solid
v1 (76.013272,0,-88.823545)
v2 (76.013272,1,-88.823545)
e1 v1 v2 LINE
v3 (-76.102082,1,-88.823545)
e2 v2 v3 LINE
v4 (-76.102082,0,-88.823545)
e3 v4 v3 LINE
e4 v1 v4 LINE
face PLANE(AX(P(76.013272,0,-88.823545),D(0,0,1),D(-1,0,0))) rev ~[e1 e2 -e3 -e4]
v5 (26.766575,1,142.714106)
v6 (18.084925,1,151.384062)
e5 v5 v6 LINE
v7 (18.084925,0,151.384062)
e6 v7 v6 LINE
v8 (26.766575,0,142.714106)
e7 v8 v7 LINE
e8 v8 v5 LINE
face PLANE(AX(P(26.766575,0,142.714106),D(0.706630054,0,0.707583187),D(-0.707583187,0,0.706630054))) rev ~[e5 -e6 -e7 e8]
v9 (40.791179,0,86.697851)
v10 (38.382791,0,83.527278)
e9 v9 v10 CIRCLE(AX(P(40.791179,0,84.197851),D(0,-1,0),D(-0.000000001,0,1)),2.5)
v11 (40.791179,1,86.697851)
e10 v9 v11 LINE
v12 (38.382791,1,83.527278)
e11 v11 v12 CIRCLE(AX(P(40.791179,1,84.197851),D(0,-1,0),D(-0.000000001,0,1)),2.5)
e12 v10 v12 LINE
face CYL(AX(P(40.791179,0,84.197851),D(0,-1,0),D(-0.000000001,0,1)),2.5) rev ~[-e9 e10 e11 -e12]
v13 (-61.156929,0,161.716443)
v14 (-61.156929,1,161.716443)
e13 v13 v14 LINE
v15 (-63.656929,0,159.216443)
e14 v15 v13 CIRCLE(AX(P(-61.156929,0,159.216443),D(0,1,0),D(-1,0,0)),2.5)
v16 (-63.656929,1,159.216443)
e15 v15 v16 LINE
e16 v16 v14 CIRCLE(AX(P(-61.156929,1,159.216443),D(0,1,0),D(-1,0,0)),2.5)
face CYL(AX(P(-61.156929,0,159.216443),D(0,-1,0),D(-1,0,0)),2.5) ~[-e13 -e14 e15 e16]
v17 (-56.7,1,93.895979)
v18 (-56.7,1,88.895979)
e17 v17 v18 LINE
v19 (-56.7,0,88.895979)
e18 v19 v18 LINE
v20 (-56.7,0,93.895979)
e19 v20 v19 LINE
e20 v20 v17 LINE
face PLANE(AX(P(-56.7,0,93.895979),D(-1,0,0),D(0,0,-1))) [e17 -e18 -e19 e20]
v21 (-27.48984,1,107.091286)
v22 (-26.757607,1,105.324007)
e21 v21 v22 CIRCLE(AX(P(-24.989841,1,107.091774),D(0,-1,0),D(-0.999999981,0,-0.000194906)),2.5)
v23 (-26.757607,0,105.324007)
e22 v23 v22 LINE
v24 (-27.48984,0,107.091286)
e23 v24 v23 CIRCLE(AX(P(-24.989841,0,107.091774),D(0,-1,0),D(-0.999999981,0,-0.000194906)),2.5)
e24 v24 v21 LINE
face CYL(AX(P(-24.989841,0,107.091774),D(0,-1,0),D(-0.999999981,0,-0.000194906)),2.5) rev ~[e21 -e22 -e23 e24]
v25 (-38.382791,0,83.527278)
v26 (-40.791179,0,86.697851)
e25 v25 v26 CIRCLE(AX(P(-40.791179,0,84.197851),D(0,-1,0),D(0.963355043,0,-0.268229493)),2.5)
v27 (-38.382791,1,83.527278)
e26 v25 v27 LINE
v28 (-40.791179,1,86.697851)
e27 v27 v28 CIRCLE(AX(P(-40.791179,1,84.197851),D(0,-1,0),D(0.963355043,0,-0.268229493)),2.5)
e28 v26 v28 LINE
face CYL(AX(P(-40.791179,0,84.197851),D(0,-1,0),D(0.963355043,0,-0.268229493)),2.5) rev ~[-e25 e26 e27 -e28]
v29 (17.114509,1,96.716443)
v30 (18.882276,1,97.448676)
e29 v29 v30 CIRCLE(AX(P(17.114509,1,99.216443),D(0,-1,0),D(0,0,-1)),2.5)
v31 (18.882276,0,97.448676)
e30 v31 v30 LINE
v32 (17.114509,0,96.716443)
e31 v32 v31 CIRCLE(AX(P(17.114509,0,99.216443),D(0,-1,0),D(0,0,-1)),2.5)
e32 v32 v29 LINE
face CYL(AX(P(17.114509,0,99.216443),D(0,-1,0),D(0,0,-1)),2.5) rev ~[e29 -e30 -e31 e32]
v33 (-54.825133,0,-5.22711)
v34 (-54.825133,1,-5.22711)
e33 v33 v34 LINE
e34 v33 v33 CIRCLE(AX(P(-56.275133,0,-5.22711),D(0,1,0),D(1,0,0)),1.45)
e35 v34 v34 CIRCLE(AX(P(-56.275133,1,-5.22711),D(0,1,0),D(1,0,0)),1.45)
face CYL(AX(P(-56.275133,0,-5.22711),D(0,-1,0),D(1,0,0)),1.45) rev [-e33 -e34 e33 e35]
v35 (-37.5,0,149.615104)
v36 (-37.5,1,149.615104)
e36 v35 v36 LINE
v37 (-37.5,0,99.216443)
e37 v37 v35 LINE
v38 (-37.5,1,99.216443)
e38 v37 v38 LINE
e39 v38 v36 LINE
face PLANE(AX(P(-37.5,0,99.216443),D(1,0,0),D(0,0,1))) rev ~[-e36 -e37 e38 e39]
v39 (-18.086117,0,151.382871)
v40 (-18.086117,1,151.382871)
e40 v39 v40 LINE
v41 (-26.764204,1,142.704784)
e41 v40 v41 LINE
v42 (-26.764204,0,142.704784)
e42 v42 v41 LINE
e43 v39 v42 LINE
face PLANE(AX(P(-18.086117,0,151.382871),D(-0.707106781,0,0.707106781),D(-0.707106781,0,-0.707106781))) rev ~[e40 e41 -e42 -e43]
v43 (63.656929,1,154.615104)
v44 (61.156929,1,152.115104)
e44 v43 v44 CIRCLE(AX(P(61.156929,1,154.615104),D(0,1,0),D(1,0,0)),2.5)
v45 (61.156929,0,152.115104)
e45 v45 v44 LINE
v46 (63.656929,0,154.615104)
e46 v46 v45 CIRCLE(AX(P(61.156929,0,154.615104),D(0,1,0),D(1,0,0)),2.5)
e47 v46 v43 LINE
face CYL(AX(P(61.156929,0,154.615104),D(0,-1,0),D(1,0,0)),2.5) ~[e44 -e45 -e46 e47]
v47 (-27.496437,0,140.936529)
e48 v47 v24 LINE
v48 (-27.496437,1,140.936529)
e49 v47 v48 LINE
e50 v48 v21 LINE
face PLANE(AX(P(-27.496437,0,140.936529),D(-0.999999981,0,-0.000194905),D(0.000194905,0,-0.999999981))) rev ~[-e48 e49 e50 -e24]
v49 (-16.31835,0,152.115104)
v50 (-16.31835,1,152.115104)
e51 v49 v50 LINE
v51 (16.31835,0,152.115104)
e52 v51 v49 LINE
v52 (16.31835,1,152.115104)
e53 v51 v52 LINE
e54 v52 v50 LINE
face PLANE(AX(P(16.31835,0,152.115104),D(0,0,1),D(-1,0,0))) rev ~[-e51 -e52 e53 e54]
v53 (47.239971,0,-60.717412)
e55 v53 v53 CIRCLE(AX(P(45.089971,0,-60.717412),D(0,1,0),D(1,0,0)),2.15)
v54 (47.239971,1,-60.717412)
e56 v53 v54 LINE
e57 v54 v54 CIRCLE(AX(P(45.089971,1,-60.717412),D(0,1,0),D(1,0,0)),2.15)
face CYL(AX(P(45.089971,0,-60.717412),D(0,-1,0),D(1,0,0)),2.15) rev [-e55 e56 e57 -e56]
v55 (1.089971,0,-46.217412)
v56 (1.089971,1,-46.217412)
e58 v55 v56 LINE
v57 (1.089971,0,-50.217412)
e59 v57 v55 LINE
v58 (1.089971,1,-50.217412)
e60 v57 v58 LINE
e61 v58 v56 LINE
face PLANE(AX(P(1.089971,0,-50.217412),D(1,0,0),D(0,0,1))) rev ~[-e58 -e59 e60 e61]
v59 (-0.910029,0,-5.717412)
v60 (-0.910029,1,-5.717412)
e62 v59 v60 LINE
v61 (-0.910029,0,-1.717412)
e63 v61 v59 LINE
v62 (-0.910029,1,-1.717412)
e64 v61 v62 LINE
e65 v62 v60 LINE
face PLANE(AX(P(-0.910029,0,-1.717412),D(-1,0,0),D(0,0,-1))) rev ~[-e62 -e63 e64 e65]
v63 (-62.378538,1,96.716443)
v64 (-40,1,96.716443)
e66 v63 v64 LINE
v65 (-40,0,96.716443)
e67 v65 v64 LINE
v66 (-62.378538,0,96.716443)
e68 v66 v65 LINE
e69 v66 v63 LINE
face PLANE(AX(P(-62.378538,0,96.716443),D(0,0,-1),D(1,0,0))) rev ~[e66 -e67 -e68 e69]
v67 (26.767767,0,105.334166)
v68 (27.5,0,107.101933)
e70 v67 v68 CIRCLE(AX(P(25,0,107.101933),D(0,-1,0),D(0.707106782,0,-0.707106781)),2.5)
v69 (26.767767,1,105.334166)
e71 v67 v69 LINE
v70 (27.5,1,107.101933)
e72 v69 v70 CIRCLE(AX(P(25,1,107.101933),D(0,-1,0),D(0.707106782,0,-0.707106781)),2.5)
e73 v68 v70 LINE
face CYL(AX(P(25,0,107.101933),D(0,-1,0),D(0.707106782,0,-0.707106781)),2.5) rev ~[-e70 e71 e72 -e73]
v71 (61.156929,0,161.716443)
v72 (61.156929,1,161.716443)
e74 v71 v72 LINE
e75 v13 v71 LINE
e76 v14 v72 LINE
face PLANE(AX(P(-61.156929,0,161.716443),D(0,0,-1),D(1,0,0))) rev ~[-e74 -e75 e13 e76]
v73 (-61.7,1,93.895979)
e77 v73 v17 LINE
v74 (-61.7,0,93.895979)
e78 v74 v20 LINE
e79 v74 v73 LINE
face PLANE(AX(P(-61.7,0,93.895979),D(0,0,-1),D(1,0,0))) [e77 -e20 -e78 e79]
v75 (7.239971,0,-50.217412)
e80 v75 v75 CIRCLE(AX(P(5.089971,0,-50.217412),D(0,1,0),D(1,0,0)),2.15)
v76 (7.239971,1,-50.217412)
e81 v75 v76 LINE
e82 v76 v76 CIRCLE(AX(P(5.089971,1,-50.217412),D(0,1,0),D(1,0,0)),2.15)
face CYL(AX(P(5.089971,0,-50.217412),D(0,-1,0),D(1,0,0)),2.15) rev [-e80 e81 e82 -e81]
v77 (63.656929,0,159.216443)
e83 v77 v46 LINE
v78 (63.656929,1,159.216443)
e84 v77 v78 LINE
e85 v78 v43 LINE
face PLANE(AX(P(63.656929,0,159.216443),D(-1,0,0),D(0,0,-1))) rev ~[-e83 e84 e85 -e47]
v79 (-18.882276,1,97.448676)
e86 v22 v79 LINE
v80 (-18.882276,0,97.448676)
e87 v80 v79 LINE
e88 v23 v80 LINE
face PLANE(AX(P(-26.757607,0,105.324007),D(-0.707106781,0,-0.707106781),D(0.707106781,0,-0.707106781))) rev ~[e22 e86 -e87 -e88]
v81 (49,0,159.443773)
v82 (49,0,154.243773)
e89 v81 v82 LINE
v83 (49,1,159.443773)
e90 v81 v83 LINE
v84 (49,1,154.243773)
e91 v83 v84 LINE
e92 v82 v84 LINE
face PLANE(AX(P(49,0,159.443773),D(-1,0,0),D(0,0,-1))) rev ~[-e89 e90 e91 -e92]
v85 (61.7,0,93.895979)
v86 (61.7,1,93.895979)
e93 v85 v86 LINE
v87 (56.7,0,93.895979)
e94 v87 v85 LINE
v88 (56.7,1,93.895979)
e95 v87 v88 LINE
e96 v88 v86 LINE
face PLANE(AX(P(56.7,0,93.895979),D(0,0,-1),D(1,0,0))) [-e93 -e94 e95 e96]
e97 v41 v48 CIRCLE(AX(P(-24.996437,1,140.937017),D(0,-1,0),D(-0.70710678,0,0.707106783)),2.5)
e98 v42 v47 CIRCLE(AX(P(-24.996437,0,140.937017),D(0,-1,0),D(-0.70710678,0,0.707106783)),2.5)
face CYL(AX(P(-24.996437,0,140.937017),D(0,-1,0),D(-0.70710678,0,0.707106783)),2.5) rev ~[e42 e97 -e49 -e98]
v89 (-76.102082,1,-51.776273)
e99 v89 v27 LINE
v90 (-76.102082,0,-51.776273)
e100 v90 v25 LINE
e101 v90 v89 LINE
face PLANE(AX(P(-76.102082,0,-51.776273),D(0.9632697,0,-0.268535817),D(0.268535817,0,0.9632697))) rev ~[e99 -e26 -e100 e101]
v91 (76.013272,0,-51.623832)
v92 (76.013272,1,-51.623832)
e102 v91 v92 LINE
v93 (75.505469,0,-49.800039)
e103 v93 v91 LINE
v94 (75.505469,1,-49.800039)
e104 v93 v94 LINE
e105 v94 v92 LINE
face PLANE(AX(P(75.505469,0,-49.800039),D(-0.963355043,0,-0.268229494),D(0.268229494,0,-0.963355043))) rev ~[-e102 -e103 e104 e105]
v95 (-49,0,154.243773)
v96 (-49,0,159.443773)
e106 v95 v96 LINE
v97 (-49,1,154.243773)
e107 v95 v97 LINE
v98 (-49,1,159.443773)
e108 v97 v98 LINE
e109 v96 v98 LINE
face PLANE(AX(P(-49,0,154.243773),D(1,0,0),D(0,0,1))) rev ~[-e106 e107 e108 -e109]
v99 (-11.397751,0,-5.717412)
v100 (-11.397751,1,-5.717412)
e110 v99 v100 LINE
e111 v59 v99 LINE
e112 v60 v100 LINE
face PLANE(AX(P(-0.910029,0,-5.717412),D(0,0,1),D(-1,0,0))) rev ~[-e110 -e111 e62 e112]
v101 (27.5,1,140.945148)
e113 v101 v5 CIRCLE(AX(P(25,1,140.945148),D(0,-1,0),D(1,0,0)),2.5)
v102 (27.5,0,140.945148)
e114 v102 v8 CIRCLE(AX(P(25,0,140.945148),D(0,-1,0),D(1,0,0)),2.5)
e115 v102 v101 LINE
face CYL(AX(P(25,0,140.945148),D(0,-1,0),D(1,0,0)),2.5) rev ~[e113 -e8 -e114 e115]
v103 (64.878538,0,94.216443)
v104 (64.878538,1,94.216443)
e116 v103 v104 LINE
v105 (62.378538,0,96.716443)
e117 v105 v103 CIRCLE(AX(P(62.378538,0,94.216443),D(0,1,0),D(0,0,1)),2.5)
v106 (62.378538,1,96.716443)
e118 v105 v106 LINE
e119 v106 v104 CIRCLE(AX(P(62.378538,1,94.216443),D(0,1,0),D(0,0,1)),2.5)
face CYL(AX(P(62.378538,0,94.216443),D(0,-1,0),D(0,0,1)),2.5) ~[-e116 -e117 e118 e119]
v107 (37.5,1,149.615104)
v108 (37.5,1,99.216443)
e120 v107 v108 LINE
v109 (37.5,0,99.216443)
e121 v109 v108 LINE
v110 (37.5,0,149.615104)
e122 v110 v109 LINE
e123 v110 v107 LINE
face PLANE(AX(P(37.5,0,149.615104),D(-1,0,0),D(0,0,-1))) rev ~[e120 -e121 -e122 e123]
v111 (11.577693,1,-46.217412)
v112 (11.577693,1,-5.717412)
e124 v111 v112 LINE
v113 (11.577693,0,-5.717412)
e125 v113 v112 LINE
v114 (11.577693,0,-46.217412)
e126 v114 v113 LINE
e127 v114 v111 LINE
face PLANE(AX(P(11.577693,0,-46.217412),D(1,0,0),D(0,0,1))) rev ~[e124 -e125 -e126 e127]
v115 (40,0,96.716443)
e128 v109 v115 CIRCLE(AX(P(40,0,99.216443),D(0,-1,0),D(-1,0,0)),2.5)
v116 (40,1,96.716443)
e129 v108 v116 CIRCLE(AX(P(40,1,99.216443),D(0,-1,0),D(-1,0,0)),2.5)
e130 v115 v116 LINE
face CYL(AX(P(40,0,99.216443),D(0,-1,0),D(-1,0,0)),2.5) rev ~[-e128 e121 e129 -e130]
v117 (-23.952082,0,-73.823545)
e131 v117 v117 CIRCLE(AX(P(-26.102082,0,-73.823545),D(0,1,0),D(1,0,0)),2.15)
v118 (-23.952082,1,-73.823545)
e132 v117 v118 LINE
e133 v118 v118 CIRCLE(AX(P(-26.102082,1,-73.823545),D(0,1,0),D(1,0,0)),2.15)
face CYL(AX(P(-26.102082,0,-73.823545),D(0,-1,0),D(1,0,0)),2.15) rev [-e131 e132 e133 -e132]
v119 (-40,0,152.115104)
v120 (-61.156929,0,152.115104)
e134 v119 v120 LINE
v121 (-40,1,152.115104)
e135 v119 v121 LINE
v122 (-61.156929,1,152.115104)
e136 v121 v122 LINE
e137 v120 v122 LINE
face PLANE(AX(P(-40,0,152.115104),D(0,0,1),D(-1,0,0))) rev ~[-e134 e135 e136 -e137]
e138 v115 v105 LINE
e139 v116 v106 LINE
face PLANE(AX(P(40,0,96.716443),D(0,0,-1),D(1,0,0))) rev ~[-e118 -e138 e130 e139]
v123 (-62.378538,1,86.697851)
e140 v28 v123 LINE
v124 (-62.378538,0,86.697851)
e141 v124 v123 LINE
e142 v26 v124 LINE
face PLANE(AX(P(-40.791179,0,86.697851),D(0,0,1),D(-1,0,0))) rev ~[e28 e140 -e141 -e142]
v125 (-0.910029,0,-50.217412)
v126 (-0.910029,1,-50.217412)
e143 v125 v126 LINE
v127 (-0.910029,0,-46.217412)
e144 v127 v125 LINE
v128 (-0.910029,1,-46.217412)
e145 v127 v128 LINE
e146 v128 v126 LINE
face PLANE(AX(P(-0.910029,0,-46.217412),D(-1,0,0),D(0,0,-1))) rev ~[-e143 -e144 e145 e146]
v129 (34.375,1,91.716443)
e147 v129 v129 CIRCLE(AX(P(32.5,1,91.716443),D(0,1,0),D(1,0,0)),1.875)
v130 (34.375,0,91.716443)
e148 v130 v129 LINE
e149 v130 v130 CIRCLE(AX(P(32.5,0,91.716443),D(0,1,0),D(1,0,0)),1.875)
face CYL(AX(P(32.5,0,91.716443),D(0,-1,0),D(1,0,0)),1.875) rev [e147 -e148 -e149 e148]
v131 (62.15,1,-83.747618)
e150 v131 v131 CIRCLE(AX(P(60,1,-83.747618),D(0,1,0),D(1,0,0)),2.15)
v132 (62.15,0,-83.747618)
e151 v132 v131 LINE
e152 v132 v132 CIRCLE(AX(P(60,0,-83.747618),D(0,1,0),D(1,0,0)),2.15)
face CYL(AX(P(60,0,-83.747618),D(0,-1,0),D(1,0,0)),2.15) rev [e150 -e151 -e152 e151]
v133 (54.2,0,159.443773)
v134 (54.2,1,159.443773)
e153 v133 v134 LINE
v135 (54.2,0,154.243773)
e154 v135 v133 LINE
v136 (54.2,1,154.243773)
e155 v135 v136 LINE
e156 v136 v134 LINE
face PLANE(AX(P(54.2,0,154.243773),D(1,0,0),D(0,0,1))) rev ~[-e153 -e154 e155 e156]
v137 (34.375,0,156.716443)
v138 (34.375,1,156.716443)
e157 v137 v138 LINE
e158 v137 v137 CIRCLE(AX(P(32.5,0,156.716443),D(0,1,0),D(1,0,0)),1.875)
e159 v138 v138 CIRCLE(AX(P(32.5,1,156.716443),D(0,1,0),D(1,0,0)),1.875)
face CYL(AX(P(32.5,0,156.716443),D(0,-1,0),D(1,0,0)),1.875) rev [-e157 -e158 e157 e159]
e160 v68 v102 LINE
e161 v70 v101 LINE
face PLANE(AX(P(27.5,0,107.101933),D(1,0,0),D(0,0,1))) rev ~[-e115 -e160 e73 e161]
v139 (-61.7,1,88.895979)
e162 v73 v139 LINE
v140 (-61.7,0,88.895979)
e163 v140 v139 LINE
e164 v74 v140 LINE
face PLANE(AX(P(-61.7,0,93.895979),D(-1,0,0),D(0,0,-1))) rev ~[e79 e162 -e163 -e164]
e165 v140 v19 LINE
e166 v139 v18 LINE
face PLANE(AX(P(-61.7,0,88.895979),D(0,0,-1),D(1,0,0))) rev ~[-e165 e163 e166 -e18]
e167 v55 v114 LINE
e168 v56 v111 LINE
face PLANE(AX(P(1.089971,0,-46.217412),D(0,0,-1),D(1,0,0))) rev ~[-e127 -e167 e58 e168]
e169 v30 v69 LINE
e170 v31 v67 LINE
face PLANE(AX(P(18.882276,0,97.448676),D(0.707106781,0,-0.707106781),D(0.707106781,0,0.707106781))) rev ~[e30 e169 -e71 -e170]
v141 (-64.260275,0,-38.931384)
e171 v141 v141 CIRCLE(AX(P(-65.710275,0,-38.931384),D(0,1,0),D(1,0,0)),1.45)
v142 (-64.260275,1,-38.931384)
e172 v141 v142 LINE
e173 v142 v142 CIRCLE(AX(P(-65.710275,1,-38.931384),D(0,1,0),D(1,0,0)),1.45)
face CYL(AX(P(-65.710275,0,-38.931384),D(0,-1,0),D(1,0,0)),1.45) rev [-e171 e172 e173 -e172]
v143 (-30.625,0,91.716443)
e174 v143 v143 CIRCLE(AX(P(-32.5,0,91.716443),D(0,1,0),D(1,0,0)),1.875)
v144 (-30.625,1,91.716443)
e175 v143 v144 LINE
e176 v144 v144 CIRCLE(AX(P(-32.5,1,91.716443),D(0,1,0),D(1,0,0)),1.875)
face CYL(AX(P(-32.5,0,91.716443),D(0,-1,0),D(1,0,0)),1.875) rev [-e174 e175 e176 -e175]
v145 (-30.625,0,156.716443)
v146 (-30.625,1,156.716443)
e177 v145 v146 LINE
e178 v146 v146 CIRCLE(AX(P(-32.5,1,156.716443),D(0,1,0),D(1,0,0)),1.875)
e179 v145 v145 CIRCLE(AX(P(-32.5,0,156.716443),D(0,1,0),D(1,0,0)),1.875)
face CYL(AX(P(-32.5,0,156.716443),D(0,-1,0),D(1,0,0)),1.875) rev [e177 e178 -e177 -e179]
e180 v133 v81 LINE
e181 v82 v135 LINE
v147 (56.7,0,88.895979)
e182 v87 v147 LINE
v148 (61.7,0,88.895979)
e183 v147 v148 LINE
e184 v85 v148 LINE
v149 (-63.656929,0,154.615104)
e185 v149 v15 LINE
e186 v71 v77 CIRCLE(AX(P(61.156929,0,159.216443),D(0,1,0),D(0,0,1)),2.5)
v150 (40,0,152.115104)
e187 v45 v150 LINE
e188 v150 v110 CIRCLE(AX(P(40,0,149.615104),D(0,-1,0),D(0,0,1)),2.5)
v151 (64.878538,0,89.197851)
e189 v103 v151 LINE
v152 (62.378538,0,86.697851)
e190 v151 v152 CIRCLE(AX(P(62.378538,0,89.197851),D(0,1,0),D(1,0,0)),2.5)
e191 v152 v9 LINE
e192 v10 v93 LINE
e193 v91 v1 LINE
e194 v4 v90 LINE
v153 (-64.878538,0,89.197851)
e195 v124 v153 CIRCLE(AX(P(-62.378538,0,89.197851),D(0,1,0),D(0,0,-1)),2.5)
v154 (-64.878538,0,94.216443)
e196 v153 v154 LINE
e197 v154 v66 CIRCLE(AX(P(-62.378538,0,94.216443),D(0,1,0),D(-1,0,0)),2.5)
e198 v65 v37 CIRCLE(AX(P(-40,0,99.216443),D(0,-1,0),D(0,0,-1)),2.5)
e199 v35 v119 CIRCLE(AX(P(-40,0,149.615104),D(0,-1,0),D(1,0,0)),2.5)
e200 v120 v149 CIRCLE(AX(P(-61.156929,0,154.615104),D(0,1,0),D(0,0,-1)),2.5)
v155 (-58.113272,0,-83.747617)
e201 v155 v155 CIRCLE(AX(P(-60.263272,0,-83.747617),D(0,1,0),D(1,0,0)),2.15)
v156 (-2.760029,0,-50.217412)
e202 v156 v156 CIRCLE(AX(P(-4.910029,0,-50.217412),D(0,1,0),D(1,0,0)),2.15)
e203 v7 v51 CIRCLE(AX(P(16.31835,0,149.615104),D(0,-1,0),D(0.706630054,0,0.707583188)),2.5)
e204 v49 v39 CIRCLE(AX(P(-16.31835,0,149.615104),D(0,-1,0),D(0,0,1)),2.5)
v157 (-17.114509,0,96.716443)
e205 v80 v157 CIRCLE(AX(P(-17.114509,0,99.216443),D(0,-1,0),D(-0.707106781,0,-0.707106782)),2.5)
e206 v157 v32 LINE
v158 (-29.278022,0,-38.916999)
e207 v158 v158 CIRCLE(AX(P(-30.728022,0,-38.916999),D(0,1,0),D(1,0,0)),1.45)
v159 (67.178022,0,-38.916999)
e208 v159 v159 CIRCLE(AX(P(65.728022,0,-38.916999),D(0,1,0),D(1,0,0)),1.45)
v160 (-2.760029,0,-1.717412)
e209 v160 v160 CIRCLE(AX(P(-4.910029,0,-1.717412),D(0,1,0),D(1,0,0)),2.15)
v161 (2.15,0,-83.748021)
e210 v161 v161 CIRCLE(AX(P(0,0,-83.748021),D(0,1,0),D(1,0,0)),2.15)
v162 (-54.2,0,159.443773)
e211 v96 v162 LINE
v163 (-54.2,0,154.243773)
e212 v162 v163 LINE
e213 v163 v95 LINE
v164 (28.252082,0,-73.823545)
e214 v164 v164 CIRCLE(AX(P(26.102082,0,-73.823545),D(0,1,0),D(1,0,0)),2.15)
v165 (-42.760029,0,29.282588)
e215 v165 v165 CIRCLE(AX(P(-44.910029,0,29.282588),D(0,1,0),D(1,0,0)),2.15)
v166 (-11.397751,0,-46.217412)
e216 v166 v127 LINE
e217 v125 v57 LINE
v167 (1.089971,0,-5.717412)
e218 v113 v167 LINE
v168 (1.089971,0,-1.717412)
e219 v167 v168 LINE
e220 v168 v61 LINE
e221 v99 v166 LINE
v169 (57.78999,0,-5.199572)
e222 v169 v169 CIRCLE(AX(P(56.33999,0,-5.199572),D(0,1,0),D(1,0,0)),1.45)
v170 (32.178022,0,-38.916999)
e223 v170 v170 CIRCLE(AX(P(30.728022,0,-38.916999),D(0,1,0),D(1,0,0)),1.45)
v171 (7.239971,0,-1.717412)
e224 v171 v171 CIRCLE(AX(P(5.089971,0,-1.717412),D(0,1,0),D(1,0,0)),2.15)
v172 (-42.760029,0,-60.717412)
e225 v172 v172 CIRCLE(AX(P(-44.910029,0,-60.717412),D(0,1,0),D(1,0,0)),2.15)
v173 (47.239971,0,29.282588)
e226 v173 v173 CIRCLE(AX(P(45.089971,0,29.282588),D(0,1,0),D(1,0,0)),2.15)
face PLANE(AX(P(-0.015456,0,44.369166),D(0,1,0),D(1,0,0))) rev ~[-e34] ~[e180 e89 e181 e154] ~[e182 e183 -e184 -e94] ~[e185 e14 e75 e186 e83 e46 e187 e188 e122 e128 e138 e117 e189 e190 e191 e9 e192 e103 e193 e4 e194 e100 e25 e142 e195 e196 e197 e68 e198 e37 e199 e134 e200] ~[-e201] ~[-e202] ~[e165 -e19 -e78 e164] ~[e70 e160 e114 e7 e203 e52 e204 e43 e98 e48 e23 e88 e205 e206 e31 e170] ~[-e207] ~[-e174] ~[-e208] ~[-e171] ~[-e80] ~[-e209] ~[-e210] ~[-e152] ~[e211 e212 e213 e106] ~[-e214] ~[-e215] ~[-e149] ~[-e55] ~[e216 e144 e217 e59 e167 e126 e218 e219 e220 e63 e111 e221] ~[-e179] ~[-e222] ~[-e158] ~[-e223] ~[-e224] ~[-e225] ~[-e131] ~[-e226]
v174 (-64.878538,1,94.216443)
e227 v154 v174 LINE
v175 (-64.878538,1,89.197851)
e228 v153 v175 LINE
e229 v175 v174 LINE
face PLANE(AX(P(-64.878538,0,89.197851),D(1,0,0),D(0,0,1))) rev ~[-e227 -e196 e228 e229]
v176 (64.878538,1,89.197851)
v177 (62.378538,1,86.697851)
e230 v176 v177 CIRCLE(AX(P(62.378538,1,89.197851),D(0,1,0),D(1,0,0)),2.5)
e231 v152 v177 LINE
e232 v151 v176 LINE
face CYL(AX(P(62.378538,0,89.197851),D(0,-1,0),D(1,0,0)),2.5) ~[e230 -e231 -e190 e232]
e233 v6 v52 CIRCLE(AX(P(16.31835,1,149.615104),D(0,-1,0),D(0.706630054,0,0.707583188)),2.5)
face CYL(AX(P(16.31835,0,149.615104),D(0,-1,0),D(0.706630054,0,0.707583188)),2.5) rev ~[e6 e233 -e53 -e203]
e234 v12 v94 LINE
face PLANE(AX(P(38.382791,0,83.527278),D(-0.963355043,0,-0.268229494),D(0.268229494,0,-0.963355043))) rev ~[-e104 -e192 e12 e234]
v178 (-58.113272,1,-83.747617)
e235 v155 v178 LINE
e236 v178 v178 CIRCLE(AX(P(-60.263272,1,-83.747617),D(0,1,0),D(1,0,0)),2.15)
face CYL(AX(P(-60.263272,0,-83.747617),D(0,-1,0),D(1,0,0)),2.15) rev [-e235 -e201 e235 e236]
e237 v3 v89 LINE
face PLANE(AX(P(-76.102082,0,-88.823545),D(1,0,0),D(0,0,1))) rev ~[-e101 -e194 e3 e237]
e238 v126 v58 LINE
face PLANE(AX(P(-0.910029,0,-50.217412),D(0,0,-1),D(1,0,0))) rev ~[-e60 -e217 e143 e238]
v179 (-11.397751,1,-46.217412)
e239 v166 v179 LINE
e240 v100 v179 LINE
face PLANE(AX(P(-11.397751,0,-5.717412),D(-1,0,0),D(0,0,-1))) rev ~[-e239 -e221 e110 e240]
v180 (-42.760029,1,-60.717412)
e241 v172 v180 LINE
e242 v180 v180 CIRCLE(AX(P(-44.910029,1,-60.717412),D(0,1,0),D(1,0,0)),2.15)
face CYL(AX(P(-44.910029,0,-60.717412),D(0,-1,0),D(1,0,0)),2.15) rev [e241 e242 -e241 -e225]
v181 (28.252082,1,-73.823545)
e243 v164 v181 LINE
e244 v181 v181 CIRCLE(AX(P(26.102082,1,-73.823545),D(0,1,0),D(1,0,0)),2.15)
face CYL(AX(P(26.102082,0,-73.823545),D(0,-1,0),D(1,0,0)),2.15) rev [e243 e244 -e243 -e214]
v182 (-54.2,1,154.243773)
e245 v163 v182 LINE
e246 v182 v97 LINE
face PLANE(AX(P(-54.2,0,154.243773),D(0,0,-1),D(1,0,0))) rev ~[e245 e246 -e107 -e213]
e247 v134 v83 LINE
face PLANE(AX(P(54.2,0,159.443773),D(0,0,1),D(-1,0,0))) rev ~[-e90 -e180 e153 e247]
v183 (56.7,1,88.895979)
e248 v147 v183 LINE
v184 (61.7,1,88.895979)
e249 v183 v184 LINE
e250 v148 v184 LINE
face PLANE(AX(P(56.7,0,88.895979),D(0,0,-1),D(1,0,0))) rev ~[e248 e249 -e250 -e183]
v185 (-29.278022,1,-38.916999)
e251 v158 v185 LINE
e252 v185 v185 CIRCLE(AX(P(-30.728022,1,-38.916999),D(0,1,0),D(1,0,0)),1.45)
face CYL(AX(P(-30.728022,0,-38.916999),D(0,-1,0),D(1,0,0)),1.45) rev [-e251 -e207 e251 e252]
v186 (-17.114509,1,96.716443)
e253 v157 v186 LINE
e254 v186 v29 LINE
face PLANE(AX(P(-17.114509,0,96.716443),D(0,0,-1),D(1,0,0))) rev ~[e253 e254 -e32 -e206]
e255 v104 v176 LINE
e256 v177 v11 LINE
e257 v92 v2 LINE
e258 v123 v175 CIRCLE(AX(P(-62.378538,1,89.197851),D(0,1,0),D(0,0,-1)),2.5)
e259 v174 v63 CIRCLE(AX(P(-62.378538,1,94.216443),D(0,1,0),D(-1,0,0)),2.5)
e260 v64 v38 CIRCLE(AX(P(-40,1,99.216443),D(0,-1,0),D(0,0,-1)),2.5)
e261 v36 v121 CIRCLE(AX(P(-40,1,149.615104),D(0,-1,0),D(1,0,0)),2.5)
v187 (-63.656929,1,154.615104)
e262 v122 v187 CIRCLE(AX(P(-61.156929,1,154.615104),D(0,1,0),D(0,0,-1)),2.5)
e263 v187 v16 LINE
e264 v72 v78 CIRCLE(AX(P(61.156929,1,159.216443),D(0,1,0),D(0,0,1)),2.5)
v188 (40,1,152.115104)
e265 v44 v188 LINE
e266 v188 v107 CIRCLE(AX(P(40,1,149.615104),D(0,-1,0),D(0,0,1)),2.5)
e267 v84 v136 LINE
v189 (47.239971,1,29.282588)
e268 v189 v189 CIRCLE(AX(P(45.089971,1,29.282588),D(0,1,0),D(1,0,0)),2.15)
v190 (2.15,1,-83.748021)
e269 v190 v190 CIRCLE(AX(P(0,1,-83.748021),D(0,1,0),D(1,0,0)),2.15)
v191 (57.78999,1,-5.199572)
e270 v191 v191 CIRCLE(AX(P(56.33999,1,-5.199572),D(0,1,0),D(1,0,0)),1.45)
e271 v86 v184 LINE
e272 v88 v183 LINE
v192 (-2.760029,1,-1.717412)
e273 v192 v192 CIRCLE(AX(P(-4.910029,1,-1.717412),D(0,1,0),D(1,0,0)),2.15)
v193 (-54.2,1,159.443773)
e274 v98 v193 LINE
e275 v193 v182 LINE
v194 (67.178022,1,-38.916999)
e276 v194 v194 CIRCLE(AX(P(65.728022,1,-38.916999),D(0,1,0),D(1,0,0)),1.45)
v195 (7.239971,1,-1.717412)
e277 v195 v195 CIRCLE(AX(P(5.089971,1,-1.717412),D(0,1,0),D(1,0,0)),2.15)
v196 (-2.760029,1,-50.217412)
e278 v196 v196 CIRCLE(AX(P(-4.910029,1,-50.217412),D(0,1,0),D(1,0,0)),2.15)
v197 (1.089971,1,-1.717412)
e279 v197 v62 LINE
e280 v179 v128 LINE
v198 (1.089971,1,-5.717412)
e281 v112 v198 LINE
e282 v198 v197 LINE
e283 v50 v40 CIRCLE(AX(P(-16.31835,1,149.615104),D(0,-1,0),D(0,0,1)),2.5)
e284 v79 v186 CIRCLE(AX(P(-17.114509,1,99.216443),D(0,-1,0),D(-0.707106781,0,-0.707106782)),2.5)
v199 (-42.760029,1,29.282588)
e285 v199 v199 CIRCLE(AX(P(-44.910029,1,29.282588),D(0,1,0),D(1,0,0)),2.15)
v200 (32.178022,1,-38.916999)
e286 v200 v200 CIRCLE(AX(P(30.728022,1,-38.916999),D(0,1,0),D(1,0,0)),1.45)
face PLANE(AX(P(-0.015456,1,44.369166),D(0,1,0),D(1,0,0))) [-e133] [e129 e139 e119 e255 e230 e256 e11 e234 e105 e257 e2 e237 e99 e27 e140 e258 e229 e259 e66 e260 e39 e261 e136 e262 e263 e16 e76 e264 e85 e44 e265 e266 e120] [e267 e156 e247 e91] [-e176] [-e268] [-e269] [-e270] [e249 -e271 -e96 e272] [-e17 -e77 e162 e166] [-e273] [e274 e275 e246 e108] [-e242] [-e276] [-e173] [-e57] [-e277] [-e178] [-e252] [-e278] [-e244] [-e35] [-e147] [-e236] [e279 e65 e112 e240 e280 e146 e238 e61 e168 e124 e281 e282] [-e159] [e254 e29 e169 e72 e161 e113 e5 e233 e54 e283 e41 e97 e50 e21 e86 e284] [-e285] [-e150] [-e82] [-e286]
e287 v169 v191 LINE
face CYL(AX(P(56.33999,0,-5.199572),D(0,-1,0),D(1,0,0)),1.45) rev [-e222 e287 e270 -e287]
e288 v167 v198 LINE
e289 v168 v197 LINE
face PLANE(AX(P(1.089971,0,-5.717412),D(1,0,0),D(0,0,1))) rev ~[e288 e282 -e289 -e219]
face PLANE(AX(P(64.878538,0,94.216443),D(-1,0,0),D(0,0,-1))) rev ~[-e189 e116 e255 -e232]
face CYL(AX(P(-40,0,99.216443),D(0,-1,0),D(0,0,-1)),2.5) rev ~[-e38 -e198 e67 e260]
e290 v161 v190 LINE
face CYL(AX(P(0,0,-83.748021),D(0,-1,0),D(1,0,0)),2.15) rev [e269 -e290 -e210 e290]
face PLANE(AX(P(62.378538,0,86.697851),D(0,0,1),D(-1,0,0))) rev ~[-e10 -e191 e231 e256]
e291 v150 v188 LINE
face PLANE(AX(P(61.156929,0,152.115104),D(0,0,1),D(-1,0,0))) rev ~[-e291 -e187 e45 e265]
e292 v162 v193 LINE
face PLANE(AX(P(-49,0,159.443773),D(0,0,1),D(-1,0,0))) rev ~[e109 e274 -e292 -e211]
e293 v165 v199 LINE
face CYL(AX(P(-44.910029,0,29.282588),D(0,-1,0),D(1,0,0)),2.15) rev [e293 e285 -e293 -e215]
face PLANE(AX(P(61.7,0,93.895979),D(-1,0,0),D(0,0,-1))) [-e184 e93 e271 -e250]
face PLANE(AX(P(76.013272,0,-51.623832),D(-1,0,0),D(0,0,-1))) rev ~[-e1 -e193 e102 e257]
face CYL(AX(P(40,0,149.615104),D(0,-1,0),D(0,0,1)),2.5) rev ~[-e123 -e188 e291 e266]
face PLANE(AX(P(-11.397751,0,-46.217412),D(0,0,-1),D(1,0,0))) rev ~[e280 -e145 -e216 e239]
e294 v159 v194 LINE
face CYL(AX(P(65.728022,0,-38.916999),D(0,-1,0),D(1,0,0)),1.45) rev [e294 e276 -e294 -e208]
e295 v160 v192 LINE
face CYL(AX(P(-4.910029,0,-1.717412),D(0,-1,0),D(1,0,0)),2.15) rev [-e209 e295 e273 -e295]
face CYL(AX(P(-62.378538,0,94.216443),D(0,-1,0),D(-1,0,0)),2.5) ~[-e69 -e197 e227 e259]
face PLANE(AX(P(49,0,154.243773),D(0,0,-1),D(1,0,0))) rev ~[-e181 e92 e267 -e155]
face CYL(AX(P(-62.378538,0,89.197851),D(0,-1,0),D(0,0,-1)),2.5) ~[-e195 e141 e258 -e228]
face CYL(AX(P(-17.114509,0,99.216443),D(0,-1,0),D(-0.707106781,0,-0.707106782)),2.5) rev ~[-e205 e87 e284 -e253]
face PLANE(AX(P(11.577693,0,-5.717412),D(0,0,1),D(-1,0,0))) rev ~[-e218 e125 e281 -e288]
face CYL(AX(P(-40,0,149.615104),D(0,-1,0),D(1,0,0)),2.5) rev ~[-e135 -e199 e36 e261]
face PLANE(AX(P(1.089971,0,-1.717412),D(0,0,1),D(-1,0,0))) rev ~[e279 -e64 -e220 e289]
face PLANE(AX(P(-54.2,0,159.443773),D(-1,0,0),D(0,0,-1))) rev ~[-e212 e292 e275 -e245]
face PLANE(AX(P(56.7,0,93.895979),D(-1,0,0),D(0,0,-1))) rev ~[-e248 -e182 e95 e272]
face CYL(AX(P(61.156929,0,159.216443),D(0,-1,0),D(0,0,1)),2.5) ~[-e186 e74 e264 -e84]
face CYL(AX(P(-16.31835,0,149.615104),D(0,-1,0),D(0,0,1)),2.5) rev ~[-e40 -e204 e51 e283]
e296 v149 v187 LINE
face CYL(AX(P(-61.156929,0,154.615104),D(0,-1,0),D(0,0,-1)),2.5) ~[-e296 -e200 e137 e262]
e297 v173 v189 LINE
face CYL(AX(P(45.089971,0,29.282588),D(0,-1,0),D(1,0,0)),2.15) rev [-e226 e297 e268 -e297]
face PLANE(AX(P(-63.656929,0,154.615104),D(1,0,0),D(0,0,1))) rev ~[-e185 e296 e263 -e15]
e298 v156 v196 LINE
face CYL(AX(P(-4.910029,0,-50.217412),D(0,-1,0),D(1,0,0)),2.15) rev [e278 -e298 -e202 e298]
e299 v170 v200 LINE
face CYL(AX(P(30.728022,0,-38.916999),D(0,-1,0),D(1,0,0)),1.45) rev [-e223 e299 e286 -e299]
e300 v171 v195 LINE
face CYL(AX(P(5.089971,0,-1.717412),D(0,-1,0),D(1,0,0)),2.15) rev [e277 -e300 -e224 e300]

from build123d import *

# Parameters (mm, degrees)
SKETCH26_R          = 1.875
SKETCH26_W          = 5
SKETCH26_H          = 5
SKETCH26_R_2        = 2.15
SKETCH26_R_3        = 1.45
BOSS_EXTRUDE6_DEPTH = 1


with BuildPart() as part:
    # Sketch26 → Boss-Extrude6 (new body)
    with BuildSketch(Plane(origin=(0, 0, 0), x_dir=(1, 0, 0), z_dir=(0, 1, 0))):
        with BuildLine():
            Line((76.013272408, 51.623832483), (76.013272408, 88.823544949))
            Line((76.013272408, 88.823544949), (-76.102081629, 88.823544949))
            Line((-76.102081629, 88.823544949), (-76.102081629, 51.776273242))
            Line((-76.102081629, 51.776273242), (-38.382791234, -83.527277546))
            ThreePointArc((-38.382791234, -83.527277546), (-38.800395788, -85.710062519), (-40.791178841, -86.69785128))
            Line((-40.791178841, -86.69785128), (-62.37853755, -86.69785128))
            ThreePointArc((-62.37853755, -86.69785128), (-64.146304503, -87.430084327), (-64.87853755, -89.19785128))
            Line((-64.87853755, -89.19785128), (-64.87853755, -94.216442532))
            ThreePointArc((-64.87853755, -94.216442532), (-64.146304503, -95.984209485), (-62.37853755, -96.716442532))
            Line((-62.37853755, -96.716442532), (-40, -96.716442532))
            ThreePointArc((-40, -96.716442532), (-38.232233047, -97.448675579), (-37.5, -99.216442532))
            Line((-37.5, -99.216442532), (-37.5, -149.615103737))
            ThreePointArc((-37.5, -149.615103737), (-38.232233047, -151.38287069), (-40, -152.115103737))
            Line((-40, -152.115103737), (-61.156929158, -152.115103737))
            ThreePointArc((-61.156929158, -152.115103737), (-62.924696111, -152.847336784), (-63.656929158, -154.615103737))
            Line((-63.656929158, -154.615103737), (-63.656929158, -159.216442532))
            ThreePointArc((-63.656929158, -159.216442532), (-62.924696111, -160.984209485), (-61.156929158, -161.716442532))
            Line((-61.156929158, -161.716442532), (-34.988305588, -161.716442532))
            Line((-34.988305588, -161.716442532), (-29.988305588, -161.716442532))
            Line((-29.988305588, -161.716442532), (30, -161.716442532))
            Line((30, -161.716442532), (61.156929158, -161.716442532))
            ThreePointArc((61.156929158, -161.716442532), (62.924696111, -160.984209485), (63.656929158, -159.216442532))
            Line((63.656929158, -159.216442532), (63.656929158, -154.615103737))
            ThreePointArc((63.656929158, -154.615103737), (62.924696111, -152.847336784), (61.156929158, -152.115103737))
            Line((61.156929158, -152.115103737), (40, -152.115103737))
            ThreePointArc((40, -152.115103737), (38.232233047, -151.38287069), (37.5, -149.615103737))
            Line((37.5, -149.615103737), (37.5, -99.216442532))
            ThreePointArc((37.5, -99.216442532), (38.232233047, -97.448675579), (40, -96.716442532))
            Line((40, -96.716442532), (62.37853755, -96.716442532))
            ThreePointArc((62.37853755, -96.716442532), (64.146304503, -95.984209485), (64.87853755, -94.216442532))
            Line((64.87853755, -94.216442532), (64.87853755, -89.19785128))
            ThreePointArc((64.87853755, -89.19785128), (64.146304503, -87.430084327), (62.37853755, -86.69785128))
            Line((62.37853755, -86.69785128), (40.791178841, -86.69785128))
            ThreePointArc((40.791178841, -86.69785128), (38.800395788, -85.710062519), (38.382791234, -83.527277546))
            Line((38.382791234, -83.527277546), (75.505468817, 49.800039197))
            Line((75.505468817, 49.800039197), (76.013272408, 51.623832483))
        make_face()
        Polygon((-54.2, -154.243772746), (-49, -154.243772746), (-49, -159.443772746), (-54.2, -159.443772746), (-54.2, -156.286487859), align=None, mode=Mode.SUBTRACT)
        with Locations((-32.5, -156.716442532)):
            Circle(SKETCH26_R, mode=Mode.SUBTRACT)
        with Locations((-59.2, -91.39597875)):
            Rectangle(SKETCH26_W, SKETCH26_H, mode=Mode.SUBTRACT)
        with Locations((-32.5, -91.716442532)):
            Circle(SKETCH26_R, mode=Mode.SUBTRACT)
        with Locations((32.5, -156.716442532)):
            Circle(SKETCH26_R, mode=Mode.SUBTRACT)
        with BuildLine():
            Line((27.5, -107.101933172), (27.5, -140.94514821))
            ThreePointArc((27.5, -140.94514821), (27.309376305, -141.902635067), (26.766575135, -142.714106178))
            Line((26.766575135, -142.714106178), (18.084925196, -151.384061705))
            ThreePointArc((18.084925196, -151.384061705), (17.274280257, -151.925124832), (16.318350061, -152.115103737))
            Line((16.318350061, -152.115103737), (-16.318350061, -152.115103737))
            ThreePointArc((-16.318350061, -152.115103737), (-17.275058642, -151.924802568), (-18.086117014, -151.38287069))
            Line((-18.086117014, -151.38287069), (-26.764204101, -142.704783602))
            ThreePointArc((-26.764204101, -142.704783602), (-27.306229203, -141.89350014), (-27.496437101, -140.936529386))
            Line((-27.496437101, -140.936529386), (-27.489840484, -107.09128644))
            ThreePointArc((-27.489840484, -107.09128644), (-27.299446118, -106.134840041), (-26.757607485, -105.324006751))
            Line((-26.757607485, -105.324006751), (-18.882276313, -97.448675579))
            ThreePointArc((-18.882276313, -97.448675579), (-18.071217941, -96.906743701), (-17.11450936, -96.716442532))
            Line((-17.11450936, -96.716442532), (17.11450936, -96.716442532))
            ThreePointArc((17.11450936, -96.716442532), (18.071217941, -96.906743701), (18.882276313, -97.448675579))
            Line((18.882276313, -97.448675579), (26.767766953, -105.334166219))
            ThreePointArc((26.767766953, -105.334166219), (27.309698831, -106.145224591), (27.5, -107.101933172))
        make_face(mode=Mode.SUBTRACT)
        Polygon((54.2, -159.443772746), (49, -159.443772746), (49, -154.243772746), (54.2, -154.243772746), (54.2, -156.286487859), align=None, mode=Mode.SUBTRACT)
        with Locations((32.5, -91.716442532)):
            Circle(SKETCH26_R, mode=Mode.SUBTRACT)
        with Locations((59.2, -91.39597875)):
            Rectangle(SKETCH26_W, SKETCH26_H, mode=Mode.SUBTRACT)
        with Locations((-44.91002895, -29.282587791)):
            Circle(SKETCH26_R_2, mode=Mode.SUBTRACT)
        with Locations((-56.275133419, 5.22710987)):
            Circle(SKETCH26_R_3, mode=Mode.SUBTRACT)
        with Locations((-4.91002895, 1.717412209)):
            Circle(SKETCH26_R_2, mode=Mode.SUBTRACT)
        with Locations((-65.710275059, 38.931384113)):
            Circle(SKETCH26_R_3, mode=Mode.SUBTRACT)
        with Locations((-60.263272408, 83.747616616)):
            Circle(SKETCH26_R_2, mode=Mode.SUBTRACT)
        with Locations((-44.91002895, 60.717412209)):
            Circle(SKETCH26_R_2, mode=Mode.SUBTRACT)
        with Locations((-30.728022224, 38.916998548)):
            Circle(SKETCH26_R_3, mode=Mode.SUBTRACT)
        with Locations((-4.91002895, 50.217412209)):
            Circle(SKETCH26_R_2, mode=Mode.SUBTRACT)
        with Locations((-26.102081629, 73.823544949)):
            Circle(SKETCH26_R_2, mode=Mode.SUBTRACT)
        with Locations((5.08997105, 1.717412209)):
            Circle(SKETCH26_R_2, mode=Mode.SUBTRACT)
        Polygon((11.577692982, 46.217412209), (11.577692982, 5.717412209), (1.08997105, 5.717412209), (1.08997105, 1.717412209), (-0.91002895, 1.717412209), (-0.91002895, 5.717412209), (-11.397750883, 5.717412209), (-11.397750883, 46.217412209), (-0.91002895, 46.217412209), (-0.91002895, 50.217412209), (1.08997105, 50.217412209), (1.08997105, 46.217412209), align=None, mode=Mode.SUBTRACT)
        with Locations((45.08997105, -29.282587791)):
            Circle(SKETCH26_R_2, mode=Mode.SUBTRACT)
        with Locations((56.339989947, 5.199572045)):
            Circle(SKETCH26_R_3, mode=Mode.SUBTRACT)
        with Locations((5.08997105, 50.217412209)):
            Circle(SKETCH26_R_2, mode=Mode.SUBTRACT)
        with Locations((30.728022224, 38.916998548)):
            Circle(SKETCH26_R_3, mode=Mode.SUBTRACT)
        with Locations((0, 83.74802142)):
            Circle(SKETCH26_R_2, mode=Mode.SUBTRACT)
        with Locations((26.102081629, 73.823544949)):
            Circle(SKETCH26_R_2, mode=Mode.SUBTRACT)
        with Locations((65.728022224, 38.916998548)):
            Circle(SKETCH26_R_3, mode=Mode.SUBTRACT)
        with Locations((45.08997105, 60.717412209)):
            Circle(SKETCH26_R_2, mode=Mode.SUBTRACT)
        with Locations((59.999999999, 83.747618385)):
            Circle(SKETCH26_R_2, mode=Mode.SUBTRACT)
    extrude(amount=BOSS_EXTRUDE6_DEPTH)


solid = part.part
